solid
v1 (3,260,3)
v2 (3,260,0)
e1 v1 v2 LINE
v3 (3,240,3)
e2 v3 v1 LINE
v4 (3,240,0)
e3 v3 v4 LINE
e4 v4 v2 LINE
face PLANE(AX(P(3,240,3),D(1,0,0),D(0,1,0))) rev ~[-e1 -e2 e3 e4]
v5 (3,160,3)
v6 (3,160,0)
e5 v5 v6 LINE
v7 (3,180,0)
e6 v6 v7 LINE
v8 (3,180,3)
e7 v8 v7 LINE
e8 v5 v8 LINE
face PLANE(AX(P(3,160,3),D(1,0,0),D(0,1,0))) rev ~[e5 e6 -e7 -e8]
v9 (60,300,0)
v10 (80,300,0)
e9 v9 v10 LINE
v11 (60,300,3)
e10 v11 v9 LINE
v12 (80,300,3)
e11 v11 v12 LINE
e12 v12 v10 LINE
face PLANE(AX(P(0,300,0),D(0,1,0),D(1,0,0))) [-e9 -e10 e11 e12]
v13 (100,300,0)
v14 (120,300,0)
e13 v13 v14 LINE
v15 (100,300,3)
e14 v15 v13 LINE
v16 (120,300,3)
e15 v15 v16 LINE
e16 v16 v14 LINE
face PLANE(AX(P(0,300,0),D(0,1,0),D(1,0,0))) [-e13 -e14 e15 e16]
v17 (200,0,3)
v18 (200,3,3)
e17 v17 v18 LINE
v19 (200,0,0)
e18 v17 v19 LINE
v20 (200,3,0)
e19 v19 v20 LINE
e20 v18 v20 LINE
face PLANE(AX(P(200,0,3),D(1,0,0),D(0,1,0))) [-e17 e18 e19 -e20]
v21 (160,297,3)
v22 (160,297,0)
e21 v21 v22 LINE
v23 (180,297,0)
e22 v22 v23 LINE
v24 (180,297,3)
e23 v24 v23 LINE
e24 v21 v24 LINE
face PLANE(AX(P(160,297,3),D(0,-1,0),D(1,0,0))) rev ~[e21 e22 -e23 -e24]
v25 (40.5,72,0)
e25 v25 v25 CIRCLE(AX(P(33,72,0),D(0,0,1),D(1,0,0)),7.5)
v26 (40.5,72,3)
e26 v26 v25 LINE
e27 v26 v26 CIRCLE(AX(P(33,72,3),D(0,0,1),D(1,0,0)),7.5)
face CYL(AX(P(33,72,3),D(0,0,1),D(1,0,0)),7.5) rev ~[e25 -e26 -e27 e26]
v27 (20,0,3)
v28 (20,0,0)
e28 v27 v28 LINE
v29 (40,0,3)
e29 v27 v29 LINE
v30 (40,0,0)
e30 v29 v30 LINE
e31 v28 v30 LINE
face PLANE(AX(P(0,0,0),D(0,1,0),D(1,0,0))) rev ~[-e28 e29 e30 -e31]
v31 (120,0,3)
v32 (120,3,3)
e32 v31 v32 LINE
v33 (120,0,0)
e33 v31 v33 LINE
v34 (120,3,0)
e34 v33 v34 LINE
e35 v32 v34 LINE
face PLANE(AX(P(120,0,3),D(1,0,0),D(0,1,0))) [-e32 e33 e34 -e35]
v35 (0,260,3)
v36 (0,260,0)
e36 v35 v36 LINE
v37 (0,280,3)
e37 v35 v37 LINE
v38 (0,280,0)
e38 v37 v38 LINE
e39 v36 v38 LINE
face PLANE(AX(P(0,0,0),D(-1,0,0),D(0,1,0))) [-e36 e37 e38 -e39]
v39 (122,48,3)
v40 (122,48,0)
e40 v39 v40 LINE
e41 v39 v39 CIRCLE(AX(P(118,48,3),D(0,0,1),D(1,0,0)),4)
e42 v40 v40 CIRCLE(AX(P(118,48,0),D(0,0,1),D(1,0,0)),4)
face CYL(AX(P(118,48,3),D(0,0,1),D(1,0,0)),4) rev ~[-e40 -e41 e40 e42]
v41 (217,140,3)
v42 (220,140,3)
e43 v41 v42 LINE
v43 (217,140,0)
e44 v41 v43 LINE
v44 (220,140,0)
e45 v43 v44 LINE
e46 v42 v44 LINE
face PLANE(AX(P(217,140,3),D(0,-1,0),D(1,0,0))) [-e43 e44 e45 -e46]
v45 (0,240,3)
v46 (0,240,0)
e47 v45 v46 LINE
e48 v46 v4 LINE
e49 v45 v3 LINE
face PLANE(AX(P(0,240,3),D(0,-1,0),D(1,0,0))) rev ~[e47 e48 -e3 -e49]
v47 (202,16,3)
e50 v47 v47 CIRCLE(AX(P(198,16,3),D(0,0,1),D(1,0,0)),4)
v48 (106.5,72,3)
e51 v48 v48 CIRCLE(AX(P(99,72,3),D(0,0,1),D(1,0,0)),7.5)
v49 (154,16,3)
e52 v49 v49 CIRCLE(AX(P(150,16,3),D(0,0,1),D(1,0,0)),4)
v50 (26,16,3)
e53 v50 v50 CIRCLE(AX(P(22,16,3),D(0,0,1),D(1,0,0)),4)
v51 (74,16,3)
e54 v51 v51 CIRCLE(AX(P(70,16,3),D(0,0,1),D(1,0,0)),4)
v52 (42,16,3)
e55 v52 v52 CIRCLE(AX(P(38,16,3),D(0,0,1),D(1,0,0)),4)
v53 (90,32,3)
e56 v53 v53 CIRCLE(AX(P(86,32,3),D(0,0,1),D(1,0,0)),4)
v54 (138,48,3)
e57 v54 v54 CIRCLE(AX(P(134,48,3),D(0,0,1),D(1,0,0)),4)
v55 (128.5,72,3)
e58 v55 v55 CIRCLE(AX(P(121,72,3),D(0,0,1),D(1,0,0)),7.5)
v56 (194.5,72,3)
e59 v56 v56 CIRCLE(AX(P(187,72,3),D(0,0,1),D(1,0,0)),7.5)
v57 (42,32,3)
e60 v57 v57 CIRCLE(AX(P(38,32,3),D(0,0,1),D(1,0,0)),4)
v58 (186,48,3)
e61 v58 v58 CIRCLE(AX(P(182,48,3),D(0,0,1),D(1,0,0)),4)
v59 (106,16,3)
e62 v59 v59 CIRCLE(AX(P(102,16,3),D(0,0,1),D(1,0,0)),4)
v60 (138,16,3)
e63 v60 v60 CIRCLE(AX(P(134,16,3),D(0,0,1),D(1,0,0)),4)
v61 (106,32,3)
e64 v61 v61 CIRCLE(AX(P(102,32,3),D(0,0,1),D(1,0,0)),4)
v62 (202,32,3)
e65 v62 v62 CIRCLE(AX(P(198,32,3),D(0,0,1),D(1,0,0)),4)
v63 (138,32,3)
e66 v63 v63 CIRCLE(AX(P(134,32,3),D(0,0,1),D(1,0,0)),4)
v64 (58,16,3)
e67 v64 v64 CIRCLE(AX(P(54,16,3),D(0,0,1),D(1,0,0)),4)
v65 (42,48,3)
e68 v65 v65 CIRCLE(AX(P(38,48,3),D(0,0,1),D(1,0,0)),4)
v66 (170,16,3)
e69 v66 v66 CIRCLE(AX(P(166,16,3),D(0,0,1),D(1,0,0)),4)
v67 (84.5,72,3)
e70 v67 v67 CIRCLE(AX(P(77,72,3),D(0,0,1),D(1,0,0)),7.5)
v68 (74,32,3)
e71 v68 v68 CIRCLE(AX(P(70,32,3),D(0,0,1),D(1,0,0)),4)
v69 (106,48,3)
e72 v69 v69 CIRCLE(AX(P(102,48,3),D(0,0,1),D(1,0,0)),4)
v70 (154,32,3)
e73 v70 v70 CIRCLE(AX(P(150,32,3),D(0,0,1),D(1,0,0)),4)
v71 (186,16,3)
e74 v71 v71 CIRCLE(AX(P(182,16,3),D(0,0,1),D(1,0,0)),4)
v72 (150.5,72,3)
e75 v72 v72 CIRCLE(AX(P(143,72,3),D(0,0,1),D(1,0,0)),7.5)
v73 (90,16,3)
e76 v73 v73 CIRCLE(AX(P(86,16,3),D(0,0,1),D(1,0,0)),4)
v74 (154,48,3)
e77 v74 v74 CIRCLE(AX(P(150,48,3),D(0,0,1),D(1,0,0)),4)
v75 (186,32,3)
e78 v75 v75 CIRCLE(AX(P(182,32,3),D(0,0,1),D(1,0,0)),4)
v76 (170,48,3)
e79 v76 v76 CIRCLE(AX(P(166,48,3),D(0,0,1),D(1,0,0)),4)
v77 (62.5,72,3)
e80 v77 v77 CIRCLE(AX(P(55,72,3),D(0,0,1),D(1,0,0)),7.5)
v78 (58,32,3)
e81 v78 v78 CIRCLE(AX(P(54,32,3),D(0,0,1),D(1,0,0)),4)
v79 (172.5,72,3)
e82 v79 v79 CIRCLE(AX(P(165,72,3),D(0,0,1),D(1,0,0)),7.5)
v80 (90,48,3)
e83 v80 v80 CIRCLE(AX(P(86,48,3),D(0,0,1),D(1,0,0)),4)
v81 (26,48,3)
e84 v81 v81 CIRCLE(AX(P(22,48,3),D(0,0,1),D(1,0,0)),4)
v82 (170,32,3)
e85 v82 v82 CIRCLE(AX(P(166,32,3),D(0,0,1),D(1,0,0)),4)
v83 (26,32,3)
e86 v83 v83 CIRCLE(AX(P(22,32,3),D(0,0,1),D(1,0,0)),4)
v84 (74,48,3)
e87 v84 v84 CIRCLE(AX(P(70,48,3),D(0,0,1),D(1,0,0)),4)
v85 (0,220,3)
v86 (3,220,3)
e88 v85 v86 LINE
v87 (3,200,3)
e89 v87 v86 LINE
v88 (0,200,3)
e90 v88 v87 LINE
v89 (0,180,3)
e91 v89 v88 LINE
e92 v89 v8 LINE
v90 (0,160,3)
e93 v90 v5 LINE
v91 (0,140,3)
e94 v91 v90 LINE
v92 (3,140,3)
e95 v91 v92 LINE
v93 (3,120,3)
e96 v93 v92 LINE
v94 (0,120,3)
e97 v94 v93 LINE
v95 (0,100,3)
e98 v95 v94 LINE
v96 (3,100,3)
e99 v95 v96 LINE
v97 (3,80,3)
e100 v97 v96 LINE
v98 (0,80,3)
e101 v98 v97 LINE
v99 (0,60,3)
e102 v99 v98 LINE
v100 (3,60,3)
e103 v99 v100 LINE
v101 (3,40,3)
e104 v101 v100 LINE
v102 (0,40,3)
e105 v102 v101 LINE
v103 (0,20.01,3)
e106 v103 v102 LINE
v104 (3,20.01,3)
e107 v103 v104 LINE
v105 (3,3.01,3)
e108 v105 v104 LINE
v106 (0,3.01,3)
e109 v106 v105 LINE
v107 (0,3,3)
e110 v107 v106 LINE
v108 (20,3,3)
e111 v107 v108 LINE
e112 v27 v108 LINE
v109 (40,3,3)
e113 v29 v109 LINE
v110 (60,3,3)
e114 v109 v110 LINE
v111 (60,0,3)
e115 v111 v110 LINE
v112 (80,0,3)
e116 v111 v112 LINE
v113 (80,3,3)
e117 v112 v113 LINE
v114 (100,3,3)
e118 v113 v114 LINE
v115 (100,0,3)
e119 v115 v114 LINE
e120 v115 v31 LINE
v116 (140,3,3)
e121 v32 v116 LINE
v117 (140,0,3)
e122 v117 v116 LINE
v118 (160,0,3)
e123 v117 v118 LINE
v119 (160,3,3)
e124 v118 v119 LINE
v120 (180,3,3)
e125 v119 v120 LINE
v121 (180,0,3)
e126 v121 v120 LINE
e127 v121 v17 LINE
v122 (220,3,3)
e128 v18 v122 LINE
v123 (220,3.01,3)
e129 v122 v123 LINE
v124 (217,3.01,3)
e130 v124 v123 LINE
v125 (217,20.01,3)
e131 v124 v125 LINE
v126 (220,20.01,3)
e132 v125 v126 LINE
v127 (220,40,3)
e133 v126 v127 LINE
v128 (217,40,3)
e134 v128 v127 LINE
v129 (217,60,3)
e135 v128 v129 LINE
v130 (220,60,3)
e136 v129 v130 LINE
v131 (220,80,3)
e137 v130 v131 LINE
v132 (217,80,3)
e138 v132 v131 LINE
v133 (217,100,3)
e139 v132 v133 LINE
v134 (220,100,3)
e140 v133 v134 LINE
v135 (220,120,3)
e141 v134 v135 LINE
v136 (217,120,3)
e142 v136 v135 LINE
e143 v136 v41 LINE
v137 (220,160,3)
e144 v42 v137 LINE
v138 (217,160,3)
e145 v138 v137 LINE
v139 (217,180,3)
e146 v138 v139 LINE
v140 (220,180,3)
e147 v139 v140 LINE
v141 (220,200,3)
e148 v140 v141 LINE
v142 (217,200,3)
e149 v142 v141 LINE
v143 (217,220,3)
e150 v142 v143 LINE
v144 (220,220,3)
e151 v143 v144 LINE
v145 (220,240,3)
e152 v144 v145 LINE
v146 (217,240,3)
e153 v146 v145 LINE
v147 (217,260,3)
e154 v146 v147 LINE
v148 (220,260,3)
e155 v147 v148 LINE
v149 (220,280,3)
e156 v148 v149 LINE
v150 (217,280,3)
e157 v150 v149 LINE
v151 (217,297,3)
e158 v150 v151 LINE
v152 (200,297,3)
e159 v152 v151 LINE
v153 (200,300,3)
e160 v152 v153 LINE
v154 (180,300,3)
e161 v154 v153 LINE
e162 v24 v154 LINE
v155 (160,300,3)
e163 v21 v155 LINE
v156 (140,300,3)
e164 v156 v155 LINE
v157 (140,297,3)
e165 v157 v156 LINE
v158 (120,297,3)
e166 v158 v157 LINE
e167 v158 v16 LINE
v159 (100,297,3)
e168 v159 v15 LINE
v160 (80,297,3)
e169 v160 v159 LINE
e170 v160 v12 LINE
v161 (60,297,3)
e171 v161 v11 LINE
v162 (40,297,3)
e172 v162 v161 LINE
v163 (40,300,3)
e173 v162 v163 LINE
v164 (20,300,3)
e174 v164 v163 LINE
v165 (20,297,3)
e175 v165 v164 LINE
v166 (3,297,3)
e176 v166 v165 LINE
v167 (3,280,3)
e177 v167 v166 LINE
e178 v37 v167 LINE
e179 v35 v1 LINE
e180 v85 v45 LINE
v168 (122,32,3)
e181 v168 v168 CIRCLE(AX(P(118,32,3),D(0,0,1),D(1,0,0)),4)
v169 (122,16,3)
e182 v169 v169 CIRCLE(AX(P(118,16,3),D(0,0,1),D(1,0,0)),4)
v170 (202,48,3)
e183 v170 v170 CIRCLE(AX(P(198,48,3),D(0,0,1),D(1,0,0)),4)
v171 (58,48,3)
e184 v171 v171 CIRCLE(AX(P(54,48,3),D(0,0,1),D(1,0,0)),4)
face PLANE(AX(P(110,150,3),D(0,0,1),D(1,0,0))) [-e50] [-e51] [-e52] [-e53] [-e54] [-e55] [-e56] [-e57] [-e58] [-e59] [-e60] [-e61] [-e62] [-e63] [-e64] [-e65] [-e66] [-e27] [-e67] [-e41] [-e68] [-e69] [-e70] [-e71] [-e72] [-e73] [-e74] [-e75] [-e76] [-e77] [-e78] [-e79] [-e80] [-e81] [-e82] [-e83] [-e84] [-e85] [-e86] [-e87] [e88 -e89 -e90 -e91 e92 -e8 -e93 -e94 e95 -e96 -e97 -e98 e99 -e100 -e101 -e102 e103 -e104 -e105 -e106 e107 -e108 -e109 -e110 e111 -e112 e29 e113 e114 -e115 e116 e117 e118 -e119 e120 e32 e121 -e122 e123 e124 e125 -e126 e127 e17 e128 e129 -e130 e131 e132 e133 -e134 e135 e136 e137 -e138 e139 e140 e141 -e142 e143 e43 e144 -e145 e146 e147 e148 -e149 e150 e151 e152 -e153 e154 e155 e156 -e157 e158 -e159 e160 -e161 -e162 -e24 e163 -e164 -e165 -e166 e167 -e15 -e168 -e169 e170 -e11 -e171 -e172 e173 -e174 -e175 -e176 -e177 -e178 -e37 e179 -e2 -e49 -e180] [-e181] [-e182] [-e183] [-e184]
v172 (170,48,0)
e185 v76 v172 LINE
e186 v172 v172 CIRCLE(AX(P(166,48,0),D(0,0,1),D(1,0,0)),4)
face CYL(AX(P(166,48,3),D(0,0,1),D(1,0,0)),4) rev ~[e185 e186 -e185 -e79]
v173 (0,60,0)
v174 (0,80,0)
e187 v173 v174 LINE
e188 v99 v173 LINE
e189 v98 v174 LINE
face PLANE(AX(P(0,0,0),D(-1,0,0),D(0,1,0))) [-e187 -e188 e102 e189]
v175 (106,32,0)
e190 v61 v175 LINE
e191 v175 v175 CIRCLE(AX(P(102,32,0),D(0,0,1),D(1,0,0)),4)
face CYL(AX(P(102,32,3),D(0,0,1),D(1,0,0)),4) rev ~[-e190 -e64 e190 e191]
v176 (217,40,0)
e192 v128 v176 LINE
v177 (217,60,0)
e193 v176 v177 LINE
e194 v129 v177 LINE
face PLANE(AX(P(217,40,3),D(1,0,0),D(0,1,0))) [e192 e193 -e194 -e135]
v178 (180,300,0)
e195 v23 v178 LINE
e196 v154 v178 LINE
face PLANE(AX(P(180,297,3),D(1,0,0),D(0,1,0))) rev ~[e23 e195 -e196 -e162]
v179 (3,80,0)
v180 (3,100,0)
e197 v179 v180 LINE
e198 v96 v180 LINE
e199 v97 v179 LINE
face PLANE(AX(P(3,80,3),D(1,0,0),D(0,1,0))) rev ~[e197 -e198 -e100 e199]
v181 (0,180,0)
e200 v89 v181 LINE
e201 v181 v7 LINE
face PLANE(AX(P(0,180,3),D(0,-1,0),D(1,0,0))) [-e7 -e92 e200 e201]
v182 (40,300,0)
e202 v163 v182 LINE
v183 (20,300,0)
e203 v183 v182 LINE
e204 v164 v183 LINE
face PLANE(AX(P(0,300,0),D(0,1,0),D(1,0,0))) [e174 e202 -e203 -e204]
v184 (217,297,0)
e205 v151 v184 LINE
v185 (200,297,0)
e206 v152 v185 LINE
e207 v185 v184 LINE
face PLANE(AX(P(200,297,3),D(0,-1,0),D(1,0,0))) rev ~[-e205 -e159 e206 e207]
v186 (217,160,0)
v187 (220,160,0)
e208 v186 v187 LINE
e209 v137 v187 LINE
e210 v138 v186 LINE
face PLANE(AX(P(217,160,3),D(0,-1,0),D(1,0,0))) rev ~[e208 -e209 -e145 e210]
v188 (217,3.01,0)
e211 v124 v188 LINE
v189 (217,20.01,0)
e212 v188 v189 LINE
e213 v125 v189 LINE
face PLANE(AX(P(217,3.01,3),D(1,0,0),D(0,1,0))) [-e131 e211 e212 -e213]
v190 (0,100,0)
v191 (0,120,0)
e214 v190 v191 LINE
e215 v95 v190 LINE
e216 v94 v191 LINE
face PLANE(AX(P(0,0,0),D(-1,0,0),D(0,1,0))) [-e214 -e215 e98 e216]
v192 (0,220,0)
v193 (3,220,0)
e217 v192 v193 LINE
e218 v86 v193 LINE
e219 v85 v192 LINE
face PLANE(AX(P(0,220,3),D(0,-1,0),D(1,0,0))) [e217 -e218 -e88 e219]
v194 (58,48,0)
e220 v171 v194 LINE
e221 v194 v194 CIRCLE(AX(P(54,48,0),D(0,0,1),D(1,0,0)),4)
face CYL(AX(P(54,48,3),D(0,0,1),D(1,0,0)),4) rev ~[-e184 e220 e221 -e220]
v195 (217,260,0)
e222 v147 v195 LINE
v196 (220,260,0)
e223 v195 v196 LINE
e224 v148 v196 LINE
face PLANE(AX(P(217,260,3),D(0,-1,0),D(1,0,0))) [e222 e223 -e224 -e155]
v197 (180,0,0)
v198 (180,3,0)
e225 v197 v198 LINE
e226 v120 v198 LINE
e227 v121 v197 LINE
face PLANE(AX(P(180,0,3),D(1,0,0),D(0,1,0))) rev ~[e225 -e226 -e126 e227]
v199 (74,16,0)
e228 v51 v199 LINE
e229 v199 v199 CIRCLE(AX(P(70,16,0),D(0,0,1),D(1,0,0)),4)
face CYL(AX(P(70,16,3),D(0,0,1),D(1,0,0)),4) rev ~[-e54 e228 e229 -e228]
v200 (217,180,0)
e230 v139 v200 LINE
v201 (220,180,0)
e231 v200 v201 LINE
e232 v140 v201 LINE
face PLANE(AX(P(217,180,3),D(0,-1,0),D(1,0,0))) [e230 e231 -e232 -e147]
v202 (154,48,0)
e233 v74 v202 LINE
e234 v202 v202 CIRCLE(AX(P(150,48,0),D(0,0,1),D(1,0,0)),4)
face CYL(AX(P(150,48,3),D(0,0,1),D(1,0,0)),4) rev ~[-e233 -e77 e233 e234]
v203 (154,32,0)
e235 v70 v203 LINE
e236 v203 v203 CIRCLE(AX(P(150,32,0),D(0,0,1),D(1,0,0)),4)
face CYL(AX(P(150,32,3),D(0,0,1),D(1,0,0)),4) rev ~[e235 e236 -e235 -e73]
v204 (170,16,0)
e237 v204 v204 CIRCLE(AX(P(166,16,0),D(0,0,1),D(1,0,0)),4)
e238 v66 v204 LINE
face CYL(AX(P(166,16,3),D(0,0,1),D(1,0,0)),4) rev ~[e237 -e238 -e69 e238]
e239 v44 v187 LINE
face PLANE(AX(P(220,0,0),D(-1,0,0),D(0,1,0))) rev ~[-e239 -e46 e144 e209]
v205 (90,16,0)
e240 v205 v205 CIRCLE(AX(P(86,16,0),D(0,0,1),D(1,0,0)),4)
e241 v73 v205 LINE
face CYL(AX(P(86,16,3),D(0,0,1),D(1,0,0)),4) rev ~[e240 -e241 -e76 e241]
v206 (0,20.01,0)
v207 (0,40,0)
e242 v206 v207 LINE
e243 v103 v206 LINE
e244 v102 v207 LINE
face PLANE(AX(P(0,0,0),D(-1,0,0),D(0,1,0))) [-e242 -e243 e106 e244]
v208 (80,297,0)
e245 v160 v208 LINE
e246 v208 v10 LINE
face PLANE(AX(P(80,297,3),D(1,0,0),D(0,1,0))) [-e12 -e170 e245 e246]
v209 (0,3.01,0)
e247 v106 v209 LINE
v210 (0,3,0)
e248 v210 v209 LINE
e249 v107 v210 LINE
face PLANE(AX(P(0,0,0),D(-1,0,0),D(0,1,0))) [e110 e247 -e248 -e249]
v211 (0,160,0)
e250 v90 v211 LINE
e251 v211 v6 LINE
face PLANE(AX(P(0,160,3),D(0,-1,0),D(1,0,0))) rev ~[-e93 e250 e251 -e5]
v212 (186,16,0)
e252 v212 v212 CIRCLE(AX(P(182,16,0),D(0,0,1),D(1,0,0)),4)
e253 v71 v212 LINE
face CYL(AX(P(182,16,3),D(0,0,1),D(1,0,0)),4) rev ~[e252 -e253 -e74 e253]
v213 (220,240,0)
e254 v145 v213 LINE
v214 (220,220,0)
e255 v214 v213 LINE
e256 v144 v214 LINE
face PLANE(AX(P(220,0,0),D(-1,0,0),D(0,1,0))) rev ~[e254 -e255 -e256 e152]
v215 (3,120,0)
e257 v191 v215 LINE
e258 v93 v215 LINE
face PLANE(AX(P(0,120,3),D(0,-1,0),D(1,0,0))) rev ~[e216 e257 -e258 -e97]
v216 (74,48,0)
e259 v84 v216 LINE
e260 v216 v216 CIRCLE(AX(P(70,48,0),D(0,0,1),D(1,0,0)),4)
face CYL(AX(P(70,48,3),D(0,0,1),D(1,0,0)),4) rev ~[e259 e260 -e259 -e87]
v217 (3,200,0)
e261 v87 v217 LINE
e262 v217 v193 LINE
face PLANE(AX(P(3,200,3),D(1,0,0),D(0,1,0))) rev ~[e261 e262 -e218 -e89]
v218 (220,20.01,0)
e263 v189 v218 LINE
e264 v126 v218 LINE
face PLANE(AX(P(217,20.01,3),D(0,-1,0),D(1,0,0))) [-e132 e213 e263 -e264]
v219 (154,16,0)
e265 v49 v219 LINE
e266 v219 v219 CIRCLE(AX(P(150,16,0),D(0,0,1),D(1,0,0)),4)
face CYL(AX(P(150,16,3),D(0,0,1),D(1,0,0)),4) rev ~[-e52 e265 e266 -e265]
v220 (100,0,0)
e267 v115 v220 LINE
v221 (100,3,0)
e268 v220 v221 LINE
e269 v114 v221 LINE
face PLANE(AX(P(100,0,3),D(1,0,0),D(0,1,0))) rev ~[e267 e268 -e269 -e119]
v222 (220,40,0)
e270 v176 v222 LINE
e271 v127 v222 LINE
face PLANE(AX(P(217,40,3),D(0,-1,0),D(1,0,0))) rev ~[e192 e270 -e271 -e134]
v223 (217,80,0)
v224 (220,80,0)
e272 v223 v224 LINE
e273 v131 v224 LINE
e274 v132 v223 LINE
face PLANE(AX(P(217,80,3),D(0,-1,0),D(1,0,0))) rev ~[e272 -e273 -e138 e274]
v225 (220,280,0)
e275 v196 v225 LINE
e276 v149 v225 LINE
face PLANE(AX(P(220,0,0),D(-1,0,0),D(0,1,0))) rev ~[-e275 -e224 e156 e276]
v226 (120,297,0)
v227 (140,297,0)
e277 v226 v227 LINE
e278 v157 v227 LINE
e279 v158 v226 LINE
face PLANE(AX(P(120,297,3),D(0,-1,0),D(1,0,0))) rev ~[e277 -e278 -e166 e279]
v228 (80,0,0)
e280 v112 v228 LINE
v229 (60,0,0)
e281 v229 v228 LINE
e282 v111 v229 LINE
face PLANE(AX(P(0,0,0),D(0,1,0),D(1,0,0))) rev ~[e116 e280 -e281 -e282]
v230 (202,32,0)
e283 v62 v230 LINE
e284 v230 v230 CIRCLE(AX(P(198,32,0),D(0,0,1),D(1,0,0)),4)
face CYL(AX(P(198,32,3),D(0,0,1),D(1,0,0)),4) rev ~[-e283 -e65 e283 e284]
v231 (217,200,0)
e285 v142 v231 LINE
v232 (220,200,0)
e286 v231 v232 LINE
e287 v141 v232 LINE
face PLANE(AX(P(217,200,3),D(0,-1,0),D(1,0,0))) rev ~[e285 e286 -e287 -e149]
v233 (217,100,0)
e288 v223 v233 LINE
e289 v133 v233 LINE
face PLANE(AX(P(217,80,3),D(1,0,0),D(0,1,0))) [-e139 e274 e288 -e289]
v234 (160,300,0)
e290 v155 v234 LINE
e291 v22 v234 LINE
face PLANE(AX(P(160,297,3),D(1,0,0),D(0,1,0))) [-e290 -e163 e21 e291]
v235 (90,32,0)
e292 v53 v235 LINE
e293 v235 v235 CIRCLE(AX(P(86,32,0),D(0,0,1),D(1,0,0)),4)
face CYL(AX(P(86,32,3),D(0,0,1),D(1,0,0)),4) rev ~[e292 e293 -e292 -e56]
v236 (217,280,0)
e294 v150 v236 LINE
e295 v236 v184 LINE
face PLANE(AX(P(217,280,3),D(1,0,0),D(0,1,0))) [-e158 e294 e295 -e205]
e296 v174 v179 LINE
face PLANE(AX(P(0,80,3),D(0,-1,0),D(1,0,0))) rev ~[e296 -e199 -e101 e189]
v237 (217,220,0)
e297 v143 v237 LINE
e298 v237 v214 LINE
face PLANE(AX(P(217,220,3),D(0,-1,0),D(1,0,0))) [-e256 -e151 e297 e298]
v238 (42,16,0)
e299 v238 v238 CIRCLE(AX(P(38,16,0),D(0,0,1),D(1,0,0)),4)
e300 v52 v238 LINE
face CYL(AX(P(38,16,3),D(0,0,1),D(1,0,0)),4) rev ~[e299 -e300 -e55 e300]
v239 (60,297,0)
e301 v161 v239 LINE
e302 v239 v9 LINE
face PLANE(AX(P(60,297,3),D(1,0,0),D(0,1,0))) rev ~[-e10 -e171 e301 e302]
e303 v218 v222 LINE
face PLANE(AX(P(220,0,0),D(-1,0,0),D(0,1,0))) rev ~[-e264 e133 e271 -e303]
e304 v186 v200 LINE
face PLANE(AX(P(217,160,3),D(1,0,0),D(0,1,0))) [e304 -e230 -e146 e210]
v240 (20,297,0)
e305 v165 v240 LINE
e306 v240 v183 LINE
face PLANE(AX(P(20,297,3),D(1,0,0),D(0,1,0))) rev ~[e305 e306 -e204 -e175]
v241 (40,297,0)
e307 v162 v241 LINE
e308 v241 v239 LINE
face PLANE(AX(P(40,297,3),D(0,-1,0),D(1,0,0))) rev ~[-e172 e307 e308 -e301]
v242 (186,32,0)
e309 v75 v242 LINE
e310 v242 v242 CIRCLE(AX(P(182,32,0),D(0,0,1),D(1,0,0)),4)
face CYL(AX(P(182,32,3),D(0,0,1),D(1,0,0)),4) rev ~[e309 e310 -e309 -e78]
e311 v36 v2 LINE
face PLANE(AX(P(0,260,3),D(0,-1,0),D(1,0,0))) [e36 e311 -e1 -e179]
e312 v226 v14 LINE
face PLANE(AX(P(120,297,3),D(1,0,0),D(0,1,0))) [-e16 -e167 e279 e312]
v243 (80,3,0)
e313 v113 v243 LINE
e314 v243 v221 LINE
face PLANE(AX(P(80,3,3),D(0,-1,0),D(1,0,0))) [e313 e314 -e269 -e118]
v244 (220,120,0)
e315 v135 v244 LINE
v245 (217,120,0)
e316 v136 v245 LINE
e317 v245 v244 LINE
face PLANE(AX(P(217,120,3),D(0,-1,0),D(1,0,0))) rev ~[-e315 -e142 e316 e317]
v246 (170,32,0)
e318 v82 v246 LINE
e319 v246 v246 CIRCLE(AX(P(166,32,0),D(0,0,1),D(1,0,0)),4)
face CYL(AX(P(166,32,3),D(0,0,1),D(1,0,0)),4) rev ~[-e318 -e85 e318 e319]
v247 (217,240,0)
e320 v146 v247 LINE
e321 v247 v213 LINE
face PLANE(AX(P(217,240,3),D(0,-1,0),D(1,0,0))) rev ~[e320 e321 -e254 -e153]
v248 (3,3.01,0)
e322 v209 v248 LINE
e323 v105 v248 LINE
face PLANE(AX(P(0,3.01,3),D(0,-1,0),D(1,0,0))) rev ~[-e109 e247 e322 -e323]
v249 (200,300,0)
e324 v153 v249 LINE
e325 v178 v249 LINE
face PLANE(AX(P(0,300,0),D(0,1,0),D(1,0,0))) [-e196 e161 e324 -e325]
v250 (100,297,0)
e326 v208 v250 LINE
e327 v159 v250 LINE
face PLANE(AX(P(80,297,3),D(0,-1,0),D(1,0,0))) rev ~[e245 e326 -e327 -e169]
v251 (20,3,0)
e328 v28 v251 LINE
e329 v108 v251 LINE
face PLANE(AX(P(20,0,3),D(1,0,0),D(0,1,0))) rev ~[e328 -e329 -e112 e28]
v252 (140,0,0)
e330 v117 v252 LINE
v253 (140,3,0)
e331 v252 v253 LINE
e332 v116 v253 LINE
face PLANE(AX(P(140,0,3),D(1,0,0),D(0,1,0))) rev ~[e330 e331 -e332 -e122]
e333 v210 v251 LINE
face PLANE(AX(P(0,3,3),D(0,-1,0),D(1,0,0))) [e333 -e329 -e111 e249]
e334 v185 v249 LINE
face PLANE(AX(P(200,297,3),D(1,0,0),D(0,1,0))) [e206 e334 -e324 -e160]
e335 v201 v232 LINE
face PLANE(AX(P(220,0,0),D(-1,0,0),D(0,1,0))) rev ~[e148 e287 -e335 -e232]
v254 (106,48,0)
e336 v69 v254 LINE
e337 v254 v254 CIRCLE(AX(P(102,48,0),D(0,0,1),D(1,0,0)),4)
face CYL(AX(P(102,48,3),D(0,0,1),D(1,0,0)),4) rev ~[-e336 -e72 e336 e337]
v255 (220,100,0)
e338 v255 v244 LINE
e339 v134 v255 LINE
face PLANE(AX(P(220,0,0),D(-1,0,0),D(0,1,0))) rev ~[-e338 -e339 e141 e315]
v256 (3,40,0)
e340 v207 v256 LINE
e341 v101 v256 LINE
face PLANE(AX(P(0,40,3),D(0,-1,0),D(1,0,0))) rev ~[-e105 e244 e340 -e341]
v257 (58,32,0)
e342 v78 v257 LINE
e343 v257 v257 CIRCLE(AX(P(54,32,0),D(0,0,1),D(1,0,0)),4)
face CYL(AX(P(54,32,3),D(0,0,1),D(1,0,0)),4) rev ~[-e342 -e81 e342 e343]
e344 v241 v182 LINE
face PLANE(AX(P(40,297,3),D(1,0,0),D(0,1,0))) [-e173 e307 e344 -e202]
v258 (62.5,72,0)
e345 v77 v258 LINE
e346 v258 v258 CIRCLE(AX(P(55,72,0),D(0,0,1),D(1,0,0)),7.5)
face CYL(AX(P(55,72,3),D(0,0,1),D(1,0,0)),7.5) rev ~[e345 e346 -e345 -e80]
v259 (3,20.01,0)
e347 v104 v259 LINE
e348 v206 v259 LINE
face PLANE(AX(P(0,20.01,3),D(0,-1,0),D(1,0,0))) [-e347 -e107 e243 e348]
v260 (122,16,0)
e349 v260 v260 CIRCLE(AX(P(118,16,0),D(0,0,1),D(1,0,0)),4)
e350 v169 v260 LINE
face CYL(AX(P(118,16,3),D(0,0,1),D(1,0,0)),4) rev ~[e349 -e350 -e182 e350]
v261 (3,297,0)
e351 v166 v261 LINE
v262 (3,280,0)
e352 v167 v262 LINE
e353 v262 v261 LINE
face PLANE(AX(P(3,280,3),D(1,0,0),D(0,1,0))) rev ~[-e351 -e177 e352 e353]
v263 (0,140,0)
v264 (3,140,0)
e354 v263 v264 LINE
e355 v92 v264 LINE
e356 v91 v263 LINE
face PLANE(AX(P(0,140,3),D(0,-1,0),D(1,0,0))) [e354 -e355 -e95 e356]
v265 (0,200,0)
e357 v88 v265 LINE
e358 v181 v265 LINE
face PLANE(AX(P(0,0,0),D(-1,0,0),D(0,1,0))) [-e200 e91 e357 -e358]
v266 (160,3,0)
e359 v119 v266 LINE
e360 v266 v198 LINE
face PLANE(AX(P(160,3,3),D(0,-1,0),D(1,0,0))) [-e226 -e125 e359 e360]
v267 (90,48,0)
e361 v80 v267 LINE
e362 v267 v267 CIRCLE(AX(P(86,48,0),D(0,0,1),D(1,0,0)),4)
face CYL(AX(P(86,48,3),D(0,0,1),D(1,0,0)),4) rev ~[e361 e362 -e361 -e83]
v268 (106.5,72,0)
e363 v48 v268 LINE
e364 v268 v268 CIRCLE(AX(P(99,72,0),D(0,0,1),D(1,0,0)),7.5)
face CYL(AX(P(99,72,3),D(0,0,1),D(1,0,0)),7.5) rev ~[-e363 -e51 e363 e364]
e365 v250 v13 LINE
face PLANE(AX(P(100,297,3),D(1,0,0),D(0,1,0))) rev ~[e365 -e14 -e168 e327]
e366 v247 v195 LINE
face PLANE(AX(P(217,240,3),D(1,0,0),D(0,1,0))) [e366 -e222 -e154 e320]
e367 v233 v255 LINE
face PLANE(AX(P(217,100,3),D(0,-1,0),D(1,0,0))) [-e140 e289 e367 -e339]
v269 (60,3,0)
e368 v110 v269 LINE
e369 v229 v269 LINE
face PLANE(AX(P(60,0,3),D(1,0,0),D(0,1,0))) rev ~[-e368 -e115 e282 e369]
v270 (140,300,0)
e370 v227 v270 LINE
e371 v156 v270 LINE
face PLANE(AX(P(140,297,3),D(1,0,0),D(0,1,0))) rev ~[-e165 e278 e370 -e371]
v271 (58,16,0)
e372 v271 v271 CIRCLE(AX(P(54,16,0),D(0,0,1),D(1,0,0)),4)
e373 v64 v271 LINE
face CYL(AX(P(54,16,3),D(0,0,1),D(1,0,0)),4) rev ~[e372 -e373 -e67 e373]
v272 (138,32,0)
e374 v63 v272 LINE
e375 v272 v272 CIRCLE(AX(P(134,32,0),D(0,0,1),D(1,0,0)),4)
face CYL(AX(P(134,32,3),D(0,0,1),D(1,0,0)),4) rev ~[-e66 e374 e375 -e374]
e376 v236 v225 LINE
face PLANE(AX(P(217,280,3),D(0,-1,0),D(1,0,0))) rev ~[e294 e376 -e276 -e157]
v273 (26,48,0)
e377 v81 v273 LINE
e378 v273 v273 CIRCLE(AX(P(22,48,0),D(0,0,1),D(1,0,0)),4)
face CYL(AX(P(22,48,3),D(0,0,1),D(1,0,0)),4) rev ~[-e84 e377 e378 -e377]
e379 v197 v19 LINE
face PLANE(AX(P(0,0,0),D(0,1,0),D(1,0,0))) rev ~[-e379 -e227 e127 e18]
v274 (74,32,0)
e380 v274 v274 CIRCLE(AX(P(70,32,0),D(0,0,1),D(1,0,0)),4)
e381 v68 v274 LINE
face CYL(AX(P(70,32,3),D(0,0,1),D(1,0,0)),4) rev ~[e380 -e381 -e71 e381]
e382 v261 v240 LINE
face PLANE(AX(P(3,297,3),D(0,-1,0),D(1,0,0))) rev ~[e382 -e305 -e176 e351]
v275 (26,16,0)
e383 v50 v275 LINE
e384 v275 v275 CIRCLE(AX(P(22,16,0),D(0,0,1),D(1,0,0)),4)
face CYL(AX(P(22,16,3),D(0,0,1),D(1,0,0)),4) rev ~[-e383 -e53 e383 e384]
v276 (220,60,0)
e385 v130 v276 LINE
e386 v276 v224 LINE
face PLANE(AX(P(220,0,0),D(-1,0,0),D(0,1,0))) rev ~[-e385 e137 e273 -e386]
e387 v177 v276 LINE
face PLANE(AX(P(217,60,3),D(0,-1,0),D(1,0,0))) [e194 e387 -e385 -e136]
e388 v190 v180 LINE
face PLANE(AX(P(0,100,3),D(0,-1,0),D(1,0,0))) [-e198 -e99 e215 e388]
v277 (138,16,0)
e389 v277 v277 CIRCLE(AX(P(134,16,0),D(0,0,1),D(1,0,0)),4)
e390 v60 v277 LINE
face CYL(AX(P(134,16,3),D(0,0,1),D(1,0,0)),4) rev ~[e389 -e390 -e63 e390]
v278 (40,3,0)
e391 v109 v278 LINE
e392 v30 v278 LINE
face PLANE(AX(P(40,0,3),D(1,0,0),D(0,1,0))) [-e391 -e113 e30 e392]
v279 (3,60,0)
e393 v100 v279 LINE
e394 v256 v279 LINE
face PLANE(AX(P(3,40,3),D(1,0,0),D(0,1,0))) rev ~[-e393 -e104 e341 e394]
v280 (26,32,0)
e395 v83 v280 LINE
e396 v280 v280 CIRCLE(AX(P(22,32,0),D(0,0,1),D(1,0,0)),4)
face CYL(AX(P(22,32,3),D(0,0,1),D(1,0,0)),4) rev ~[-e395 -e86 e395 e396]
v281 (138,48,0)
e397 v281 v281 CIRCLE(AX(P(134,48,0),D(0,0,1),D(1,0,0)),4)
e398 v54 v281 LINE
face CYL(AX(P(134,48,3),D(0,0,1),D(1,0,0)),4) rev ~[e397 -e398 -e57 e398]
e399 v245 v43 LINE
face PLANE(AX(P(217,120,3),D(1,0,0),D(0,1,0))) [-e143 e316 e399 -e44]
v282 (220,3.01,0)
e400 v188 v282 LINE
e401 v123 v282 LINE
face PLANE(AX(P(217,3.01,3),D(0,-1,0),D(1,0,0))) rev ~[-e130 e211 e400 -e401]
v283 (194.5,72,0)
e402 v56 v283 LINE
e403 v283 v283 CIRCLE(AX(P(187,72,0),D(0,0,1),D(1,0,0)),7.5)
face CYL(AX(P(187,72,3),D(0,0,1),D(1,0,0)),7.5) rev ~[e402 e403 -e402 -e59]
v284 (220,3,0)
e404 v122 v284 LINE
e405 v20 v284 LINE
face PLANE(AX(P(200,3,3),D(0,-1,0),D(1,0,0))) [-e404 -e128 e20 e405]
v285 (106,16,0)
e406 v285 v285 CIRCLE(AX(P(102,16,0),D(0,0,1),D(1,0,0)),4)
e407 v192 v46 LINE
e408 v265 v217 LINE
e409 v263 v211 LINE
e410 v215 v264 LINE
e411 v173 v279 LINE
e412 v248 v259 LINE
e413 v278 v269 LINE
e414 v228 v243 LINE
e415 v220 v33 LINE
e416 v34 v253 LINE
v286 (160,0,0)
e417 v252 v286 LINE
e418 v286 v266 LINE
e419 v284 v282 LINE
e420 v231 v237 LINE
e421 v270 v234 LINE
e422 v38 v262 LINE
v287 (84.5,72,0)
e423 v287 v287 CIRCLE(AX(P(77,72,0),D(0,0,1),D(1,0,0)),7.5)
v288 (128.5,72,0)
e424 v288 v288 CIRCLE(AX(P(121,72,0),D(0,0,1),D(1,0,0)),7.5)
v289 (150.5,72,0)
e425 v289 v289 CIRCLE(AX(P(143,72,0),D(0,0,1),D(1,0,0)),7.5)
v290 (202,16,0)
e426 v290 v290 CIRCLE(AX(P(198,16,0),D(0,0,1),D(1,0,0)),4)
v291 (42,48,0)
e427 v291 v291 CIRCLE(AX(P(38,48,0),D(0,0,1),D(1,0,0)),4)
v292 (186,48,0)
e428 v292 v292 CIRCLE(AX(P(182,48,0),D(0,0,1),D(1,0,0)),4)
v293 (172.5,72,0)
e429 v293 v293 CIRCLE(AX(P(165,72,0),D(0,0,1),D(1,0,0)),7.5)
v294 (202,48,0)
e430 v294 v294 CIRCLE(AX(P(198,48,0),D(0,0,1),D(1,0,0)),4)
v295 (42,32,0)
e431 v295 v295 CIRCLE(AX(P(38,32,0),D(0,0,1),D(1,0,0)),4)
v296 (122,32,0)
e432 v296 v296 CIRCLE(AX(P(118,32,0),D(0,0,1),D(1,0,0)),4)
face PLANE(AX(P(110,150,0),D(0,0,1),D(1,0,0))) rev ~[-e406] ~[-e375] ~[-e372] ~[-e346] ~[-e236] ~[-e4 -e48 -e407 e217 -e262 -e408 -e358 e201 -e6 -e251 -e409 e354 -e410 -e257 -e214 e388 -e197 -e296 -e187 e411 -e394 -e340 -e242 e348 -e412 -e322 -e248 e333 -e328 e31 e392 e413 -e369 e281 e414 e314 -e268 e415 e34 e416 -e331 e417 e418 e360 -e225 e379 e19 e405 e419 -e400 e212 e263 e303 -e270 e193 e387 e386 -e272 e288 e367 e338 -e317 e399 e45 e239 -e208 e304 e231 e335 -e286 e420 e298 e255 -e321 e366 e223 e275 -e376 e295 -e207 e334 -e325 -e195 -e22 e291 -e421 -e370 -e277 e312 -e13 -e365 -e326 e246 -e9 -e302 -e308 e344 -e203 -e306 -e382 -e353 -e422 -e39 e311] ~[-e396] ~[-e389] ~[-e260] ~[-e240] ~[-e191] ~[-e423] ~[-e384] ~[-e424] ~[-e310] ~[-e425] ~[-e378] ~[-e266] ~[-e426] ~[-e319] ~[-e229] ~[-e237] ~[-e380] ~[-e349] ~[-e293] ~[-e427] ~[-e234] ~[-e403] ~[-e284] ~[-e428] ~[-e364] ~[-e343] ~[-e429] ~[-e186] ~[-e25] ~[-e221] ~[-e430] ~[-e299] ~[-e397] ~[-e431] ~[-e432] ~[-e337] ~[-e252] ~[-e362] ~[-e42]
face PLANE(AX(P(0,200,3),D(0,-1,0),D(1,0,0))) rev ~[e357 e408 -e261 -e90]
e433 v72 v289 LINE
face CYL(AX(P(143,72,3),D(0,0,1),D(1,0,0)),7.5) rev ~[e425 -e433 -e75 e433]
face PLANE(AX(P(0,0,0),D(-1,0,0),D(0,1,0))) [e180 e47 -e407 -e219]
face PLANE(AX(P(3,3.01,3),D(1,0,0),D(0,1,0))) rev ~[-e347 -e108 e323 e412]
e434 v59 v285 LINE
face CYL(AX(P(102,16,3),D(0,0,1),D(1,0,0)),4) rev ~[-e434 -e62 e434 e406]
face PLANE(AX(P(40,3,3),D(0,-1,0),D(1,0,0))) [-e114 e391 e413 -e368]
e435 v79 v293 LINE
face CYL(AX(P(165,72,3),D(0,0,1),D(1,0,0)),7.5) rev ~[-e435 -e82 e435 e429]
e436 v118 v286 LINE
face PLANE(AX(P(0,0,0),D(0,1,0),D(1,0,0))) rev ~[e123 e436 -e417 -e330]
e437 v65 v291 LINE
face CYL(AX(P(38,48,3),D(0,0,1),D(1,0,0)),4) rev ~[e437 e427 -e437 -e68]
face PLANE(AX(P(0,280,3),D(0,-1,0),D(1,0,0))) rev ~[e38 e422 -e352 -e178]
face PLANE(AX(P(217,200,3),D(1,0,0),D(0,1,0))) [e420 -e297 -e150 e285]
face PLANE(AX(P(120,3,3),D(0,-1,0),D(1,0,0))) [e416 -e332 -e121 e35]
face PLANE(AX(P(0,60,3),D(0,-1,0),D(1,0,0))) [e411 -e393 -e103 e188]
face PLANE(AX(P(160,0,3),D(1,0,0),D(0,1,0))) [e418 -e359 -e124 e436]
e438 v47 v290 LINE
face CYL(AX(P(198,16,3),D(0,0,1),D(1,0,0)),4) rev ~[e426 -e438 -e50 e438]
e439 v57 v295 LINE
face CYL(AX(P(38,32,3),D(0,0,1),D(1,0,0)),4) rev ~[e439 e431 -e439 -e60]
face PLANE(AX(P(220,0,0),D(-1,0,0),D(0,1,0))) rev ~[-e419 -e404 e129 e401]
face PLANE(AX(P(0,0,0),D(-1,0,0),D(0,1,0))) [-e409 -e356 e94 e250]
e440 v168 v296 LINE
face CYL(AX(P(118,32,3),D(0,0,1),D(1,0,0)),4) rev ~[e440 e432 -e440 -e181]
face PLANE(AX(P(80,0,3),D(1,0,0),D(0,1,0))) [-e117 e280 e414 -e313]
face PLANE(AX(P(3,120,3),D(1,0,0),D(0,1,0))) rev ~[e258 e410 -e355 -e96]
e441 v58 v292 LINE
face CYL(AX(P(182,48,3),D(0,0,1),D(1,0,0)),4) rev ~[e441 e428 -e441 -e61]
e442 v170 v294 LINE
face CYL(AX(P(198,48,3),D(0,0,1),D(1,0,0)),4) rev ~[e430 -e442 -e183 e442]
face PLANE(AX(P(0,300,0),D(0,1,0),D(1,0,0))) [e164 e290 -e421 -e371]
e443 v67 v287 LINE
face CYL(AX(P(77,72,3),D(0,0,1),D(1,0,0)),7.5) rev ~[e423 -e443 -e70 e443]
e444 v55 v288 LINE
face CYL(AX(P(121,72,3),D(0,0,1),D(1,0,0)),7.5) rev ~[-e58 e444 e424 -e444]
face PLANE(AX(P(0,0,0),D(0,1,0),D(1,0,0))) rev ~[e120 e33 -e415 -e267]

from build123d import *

# Parameters (mm, degrees)
SKETCH_W      = 220
SKETCH_H      = 300
PAD_DEPTH     = 3
SKETCH001_R   = 7.5
SKETCH001_R_2 = 4
SKETCH001_W   = 20
SKETCH001_H   = 3
SKETCH001_W_2 = 3
SKETCH001_H_2 = 20
SKETCH001_H_3 = 17
POCKET_DEPTH  = 5


with BuildPart() as part:
    # Sketch → Pad (new body)
    with BuildSketch(Plane.XY):
        with Locations((110, 150)):
            Rectangle(SKETCH_W, SKETCH_H)
    extrude(amount=PAD_DEPTH)

    # Sketch001 (on Face6 of Pad) → Pocket (cut)
    with BuildSketch(Plane.XY.offset(3)):
        with Locations((33, 72)):
            Circle(SKETCH001_R)
        with Locations((55, 72)):
            Circle(SKETCH001_R)
        with Locations((77, 72)):
            Circle(SKETCH001_R)
        with Locations((99, 72)):
            Circle(SKETCH001_R)
        with Locations((121, 72)):
            Circle(SKETCH001_R)
        with Locations((143, 72)):
            Circle(SKETCH001_R)
        with Locations((165, 72)):
            Circle(SKETCH001_R)
        with Locations((187, 72)):
            Circle(SKETCH001_R)
        with Locations((22, 48)):
            Circle(SKETCH001_R_2)
        with Locations((38, 48)):
            Circle(SKETCH001_R_2)
        with Locations((54, 48)):
            Circle(SKETCH001_R_2)
        with Locations((70, 48)):
            Circle(SKETCH001_R_2)
        with Locations((86, 48)):
            Circle(SKETCH001_R_2)
        with Locations((102, 48)):
            Circle(SKETCH001_R_2)
        with Locations((118, 48)):
            Circle(SKETCH001_R_2)
        with Locations((134, 48)):
            Circle(SKETCH001_R_2)
        with Locations((150, 48)):
            Circle(SKETCH001_R_2)
        with Locations((166, 48)):
            Circle(SKETCH001_R_2)
        with Locations((182, 48)):
            Circle(SKETCH001_R_2)
        with Locations((198, 48)):
            Circle(SKETCH001_R_2)
        with Locations((22, 32)):
            Circle(SKETCH001_R_2)
        with Locations((38, 32)):
            Circle(SKETCH001_R_2)
        with Locations((54, 32)):
            Circle(SKETCH001_R_2)
        with Locations((70, 32)):
            Circle(SKETCH001_R_2)
        with Locations((86, 32)):
            Circle(SKETCH001_R_2)
        with Locations((102, 32)):
            Circle(SKETCH001_R_2)
        with Locations((118, 32)):
            Circle(SKETCH001_R_2)
        with Locations((134, 32)):
            Circle(SKETCH001_R_2)
        with Locations((150, 32)):
            Circle(SKETCH001_R_2)
        with Locations((166, 32)):
            Circle(SKETCH001_R_2)
        with Locations((182, 32)):
            Circle(SKETCH001_R_2)
        with Locations((198, 32)):
            Circle(SKETCH001_R_2)
        with Locations((22, 16)):
            Circle(SKETCH001_R_2)
        with Locations((38, 16)):
            Circle(SKETCH001_R_2)
        with Locations((54, 16)):
            Circle(SKETCH001_R_2)
        with Locations((70, 16)):
            Circle(SKETCH001_R_2)
        with Locations((86, 16)):
            Circle(SKETCH001_R_2)
        with Locations((102, 16)):
            Circle(SKETCH001_R_2)
        with Locations((118, 16)):
            Circle(SKETCH001_R_2)
        with Locations((134, 16)):
            Circle(SKETCH001_R_2)
        with Locations((150, 16)):
            Circle(SKETCH001_R_2)
        with Locations((166, 16)):
            Circle(SKETCH001_R_2)
        with Locations((182, 16)):
            Circle(SKETCH001_R_2)
        with Locations((198, 16)):
            Circle(SKETCH001_R_2)
        with Locations((10, 1.5)):
            Rectangle(SKETCH001_W, SKETCH001_H)
        with Locations((50, 1.5)):
            Rectangle(SKETCH001_W, SKETCH001_H)
        with Locations((90, 1.5)):
            Rectangle(SKETCH001_W, SKETCH001_H)
        with Locations((130, 1.5)):
            Rectangle(SKETCH001_W, SKETCH001_H)
        with Locations((170, 1.5)):
            Rectangle(SKETCH001_W, SKETCH001_H)
        with Locations((210, 1.5)):
            Rectangle(SKETCH001_W, SKETCH001_H)
        with Locations((10, 298.5)):
            Rectangle(SKETCH001_W, SKETCH001_H)
        with Locations((50, 298.5)):
            Rectangle(SKETCH001_W, SKETCH001_H)
        with Locations((90, 298.5)):
            Rectangle(SKETCH001_W, SKETCH001_H)
        with Locations((130, 298.5)):
            Rectangle(SKETCH001_W, SKETCH001_H)
        with Locations((170, 298.5)):
            Rectangle(SKETCH001_W, SKETCH001_H)
        with Locations((210, 298.5)):
            Rectangle(SKETCH001_W, SKETCH001_H)
        with Locations((1.5, 50)):
            Rectangle(SKETCH001_W_2, SKETCH001_H_2)
        with Locations((1.5, 90)):
            Rectangle(SKETCH001_W_2, SKETCH001_H_2)
        with Locations((1.5, 130)):
            Rectangle(SKETCH001_W_2, SKETCH001_H_2)
        with Locations((1.5, 170)):
            Rectangle(SKETCH001_W_2, SKETCH001_H_2)
        with Locations((1.5, 210)):
            Rectangle(SKETCH001_W_2, SKETCH001_H_2)
        with Locations((1.5, 250)):
            Rectangle(SKETCH001_W_2, SKETCH001_H_2)
        with Locations((218.5, 50)):
            Rectangle(SKETCH001_W_2, SKETCH001_H_2)
        with Locations((218.5, 90)):
            Rectangle(SKETCH001_W_2, SKETCH001_H_2)
        with Locations((218.5, 130)):
            Rectangle(SKETCH001_W_2, SKETCH001_H_2)
        with Locations((218.5, 170)):
            Rectangle(SKETCH001_W_2, SKETCH001_H_2)
        with Locations((218.5, 210)):
            Rectangle(SKETCH001_W_2, SKETCH001_H_2)
        with Locations((218.5, 250)):
            Rectangle(SKETCH001_W_2, SKETCH001_H_2)
        with Locations((1.5, 11.51)):
            Rectangle(SKETCH001_W_2, SKETCH001_H_3)
        with Locations((1.5, 288.5)):
            Rectangle(SKETCH001_W_2, SKETCH001_H_3)
        with Locations((218.5, 288.5)):
            Rectangle(SKETCH001_W_2, SKETCH001_H_3)
        with Locations((218.5, 11.51)):
            Rectangle(SKETCH001_W_2, SKETCH001_H_3)
    extrude(amount=-POCKET_DEPTH, mode=Mode.SUBTRACT)


solid = part.part
